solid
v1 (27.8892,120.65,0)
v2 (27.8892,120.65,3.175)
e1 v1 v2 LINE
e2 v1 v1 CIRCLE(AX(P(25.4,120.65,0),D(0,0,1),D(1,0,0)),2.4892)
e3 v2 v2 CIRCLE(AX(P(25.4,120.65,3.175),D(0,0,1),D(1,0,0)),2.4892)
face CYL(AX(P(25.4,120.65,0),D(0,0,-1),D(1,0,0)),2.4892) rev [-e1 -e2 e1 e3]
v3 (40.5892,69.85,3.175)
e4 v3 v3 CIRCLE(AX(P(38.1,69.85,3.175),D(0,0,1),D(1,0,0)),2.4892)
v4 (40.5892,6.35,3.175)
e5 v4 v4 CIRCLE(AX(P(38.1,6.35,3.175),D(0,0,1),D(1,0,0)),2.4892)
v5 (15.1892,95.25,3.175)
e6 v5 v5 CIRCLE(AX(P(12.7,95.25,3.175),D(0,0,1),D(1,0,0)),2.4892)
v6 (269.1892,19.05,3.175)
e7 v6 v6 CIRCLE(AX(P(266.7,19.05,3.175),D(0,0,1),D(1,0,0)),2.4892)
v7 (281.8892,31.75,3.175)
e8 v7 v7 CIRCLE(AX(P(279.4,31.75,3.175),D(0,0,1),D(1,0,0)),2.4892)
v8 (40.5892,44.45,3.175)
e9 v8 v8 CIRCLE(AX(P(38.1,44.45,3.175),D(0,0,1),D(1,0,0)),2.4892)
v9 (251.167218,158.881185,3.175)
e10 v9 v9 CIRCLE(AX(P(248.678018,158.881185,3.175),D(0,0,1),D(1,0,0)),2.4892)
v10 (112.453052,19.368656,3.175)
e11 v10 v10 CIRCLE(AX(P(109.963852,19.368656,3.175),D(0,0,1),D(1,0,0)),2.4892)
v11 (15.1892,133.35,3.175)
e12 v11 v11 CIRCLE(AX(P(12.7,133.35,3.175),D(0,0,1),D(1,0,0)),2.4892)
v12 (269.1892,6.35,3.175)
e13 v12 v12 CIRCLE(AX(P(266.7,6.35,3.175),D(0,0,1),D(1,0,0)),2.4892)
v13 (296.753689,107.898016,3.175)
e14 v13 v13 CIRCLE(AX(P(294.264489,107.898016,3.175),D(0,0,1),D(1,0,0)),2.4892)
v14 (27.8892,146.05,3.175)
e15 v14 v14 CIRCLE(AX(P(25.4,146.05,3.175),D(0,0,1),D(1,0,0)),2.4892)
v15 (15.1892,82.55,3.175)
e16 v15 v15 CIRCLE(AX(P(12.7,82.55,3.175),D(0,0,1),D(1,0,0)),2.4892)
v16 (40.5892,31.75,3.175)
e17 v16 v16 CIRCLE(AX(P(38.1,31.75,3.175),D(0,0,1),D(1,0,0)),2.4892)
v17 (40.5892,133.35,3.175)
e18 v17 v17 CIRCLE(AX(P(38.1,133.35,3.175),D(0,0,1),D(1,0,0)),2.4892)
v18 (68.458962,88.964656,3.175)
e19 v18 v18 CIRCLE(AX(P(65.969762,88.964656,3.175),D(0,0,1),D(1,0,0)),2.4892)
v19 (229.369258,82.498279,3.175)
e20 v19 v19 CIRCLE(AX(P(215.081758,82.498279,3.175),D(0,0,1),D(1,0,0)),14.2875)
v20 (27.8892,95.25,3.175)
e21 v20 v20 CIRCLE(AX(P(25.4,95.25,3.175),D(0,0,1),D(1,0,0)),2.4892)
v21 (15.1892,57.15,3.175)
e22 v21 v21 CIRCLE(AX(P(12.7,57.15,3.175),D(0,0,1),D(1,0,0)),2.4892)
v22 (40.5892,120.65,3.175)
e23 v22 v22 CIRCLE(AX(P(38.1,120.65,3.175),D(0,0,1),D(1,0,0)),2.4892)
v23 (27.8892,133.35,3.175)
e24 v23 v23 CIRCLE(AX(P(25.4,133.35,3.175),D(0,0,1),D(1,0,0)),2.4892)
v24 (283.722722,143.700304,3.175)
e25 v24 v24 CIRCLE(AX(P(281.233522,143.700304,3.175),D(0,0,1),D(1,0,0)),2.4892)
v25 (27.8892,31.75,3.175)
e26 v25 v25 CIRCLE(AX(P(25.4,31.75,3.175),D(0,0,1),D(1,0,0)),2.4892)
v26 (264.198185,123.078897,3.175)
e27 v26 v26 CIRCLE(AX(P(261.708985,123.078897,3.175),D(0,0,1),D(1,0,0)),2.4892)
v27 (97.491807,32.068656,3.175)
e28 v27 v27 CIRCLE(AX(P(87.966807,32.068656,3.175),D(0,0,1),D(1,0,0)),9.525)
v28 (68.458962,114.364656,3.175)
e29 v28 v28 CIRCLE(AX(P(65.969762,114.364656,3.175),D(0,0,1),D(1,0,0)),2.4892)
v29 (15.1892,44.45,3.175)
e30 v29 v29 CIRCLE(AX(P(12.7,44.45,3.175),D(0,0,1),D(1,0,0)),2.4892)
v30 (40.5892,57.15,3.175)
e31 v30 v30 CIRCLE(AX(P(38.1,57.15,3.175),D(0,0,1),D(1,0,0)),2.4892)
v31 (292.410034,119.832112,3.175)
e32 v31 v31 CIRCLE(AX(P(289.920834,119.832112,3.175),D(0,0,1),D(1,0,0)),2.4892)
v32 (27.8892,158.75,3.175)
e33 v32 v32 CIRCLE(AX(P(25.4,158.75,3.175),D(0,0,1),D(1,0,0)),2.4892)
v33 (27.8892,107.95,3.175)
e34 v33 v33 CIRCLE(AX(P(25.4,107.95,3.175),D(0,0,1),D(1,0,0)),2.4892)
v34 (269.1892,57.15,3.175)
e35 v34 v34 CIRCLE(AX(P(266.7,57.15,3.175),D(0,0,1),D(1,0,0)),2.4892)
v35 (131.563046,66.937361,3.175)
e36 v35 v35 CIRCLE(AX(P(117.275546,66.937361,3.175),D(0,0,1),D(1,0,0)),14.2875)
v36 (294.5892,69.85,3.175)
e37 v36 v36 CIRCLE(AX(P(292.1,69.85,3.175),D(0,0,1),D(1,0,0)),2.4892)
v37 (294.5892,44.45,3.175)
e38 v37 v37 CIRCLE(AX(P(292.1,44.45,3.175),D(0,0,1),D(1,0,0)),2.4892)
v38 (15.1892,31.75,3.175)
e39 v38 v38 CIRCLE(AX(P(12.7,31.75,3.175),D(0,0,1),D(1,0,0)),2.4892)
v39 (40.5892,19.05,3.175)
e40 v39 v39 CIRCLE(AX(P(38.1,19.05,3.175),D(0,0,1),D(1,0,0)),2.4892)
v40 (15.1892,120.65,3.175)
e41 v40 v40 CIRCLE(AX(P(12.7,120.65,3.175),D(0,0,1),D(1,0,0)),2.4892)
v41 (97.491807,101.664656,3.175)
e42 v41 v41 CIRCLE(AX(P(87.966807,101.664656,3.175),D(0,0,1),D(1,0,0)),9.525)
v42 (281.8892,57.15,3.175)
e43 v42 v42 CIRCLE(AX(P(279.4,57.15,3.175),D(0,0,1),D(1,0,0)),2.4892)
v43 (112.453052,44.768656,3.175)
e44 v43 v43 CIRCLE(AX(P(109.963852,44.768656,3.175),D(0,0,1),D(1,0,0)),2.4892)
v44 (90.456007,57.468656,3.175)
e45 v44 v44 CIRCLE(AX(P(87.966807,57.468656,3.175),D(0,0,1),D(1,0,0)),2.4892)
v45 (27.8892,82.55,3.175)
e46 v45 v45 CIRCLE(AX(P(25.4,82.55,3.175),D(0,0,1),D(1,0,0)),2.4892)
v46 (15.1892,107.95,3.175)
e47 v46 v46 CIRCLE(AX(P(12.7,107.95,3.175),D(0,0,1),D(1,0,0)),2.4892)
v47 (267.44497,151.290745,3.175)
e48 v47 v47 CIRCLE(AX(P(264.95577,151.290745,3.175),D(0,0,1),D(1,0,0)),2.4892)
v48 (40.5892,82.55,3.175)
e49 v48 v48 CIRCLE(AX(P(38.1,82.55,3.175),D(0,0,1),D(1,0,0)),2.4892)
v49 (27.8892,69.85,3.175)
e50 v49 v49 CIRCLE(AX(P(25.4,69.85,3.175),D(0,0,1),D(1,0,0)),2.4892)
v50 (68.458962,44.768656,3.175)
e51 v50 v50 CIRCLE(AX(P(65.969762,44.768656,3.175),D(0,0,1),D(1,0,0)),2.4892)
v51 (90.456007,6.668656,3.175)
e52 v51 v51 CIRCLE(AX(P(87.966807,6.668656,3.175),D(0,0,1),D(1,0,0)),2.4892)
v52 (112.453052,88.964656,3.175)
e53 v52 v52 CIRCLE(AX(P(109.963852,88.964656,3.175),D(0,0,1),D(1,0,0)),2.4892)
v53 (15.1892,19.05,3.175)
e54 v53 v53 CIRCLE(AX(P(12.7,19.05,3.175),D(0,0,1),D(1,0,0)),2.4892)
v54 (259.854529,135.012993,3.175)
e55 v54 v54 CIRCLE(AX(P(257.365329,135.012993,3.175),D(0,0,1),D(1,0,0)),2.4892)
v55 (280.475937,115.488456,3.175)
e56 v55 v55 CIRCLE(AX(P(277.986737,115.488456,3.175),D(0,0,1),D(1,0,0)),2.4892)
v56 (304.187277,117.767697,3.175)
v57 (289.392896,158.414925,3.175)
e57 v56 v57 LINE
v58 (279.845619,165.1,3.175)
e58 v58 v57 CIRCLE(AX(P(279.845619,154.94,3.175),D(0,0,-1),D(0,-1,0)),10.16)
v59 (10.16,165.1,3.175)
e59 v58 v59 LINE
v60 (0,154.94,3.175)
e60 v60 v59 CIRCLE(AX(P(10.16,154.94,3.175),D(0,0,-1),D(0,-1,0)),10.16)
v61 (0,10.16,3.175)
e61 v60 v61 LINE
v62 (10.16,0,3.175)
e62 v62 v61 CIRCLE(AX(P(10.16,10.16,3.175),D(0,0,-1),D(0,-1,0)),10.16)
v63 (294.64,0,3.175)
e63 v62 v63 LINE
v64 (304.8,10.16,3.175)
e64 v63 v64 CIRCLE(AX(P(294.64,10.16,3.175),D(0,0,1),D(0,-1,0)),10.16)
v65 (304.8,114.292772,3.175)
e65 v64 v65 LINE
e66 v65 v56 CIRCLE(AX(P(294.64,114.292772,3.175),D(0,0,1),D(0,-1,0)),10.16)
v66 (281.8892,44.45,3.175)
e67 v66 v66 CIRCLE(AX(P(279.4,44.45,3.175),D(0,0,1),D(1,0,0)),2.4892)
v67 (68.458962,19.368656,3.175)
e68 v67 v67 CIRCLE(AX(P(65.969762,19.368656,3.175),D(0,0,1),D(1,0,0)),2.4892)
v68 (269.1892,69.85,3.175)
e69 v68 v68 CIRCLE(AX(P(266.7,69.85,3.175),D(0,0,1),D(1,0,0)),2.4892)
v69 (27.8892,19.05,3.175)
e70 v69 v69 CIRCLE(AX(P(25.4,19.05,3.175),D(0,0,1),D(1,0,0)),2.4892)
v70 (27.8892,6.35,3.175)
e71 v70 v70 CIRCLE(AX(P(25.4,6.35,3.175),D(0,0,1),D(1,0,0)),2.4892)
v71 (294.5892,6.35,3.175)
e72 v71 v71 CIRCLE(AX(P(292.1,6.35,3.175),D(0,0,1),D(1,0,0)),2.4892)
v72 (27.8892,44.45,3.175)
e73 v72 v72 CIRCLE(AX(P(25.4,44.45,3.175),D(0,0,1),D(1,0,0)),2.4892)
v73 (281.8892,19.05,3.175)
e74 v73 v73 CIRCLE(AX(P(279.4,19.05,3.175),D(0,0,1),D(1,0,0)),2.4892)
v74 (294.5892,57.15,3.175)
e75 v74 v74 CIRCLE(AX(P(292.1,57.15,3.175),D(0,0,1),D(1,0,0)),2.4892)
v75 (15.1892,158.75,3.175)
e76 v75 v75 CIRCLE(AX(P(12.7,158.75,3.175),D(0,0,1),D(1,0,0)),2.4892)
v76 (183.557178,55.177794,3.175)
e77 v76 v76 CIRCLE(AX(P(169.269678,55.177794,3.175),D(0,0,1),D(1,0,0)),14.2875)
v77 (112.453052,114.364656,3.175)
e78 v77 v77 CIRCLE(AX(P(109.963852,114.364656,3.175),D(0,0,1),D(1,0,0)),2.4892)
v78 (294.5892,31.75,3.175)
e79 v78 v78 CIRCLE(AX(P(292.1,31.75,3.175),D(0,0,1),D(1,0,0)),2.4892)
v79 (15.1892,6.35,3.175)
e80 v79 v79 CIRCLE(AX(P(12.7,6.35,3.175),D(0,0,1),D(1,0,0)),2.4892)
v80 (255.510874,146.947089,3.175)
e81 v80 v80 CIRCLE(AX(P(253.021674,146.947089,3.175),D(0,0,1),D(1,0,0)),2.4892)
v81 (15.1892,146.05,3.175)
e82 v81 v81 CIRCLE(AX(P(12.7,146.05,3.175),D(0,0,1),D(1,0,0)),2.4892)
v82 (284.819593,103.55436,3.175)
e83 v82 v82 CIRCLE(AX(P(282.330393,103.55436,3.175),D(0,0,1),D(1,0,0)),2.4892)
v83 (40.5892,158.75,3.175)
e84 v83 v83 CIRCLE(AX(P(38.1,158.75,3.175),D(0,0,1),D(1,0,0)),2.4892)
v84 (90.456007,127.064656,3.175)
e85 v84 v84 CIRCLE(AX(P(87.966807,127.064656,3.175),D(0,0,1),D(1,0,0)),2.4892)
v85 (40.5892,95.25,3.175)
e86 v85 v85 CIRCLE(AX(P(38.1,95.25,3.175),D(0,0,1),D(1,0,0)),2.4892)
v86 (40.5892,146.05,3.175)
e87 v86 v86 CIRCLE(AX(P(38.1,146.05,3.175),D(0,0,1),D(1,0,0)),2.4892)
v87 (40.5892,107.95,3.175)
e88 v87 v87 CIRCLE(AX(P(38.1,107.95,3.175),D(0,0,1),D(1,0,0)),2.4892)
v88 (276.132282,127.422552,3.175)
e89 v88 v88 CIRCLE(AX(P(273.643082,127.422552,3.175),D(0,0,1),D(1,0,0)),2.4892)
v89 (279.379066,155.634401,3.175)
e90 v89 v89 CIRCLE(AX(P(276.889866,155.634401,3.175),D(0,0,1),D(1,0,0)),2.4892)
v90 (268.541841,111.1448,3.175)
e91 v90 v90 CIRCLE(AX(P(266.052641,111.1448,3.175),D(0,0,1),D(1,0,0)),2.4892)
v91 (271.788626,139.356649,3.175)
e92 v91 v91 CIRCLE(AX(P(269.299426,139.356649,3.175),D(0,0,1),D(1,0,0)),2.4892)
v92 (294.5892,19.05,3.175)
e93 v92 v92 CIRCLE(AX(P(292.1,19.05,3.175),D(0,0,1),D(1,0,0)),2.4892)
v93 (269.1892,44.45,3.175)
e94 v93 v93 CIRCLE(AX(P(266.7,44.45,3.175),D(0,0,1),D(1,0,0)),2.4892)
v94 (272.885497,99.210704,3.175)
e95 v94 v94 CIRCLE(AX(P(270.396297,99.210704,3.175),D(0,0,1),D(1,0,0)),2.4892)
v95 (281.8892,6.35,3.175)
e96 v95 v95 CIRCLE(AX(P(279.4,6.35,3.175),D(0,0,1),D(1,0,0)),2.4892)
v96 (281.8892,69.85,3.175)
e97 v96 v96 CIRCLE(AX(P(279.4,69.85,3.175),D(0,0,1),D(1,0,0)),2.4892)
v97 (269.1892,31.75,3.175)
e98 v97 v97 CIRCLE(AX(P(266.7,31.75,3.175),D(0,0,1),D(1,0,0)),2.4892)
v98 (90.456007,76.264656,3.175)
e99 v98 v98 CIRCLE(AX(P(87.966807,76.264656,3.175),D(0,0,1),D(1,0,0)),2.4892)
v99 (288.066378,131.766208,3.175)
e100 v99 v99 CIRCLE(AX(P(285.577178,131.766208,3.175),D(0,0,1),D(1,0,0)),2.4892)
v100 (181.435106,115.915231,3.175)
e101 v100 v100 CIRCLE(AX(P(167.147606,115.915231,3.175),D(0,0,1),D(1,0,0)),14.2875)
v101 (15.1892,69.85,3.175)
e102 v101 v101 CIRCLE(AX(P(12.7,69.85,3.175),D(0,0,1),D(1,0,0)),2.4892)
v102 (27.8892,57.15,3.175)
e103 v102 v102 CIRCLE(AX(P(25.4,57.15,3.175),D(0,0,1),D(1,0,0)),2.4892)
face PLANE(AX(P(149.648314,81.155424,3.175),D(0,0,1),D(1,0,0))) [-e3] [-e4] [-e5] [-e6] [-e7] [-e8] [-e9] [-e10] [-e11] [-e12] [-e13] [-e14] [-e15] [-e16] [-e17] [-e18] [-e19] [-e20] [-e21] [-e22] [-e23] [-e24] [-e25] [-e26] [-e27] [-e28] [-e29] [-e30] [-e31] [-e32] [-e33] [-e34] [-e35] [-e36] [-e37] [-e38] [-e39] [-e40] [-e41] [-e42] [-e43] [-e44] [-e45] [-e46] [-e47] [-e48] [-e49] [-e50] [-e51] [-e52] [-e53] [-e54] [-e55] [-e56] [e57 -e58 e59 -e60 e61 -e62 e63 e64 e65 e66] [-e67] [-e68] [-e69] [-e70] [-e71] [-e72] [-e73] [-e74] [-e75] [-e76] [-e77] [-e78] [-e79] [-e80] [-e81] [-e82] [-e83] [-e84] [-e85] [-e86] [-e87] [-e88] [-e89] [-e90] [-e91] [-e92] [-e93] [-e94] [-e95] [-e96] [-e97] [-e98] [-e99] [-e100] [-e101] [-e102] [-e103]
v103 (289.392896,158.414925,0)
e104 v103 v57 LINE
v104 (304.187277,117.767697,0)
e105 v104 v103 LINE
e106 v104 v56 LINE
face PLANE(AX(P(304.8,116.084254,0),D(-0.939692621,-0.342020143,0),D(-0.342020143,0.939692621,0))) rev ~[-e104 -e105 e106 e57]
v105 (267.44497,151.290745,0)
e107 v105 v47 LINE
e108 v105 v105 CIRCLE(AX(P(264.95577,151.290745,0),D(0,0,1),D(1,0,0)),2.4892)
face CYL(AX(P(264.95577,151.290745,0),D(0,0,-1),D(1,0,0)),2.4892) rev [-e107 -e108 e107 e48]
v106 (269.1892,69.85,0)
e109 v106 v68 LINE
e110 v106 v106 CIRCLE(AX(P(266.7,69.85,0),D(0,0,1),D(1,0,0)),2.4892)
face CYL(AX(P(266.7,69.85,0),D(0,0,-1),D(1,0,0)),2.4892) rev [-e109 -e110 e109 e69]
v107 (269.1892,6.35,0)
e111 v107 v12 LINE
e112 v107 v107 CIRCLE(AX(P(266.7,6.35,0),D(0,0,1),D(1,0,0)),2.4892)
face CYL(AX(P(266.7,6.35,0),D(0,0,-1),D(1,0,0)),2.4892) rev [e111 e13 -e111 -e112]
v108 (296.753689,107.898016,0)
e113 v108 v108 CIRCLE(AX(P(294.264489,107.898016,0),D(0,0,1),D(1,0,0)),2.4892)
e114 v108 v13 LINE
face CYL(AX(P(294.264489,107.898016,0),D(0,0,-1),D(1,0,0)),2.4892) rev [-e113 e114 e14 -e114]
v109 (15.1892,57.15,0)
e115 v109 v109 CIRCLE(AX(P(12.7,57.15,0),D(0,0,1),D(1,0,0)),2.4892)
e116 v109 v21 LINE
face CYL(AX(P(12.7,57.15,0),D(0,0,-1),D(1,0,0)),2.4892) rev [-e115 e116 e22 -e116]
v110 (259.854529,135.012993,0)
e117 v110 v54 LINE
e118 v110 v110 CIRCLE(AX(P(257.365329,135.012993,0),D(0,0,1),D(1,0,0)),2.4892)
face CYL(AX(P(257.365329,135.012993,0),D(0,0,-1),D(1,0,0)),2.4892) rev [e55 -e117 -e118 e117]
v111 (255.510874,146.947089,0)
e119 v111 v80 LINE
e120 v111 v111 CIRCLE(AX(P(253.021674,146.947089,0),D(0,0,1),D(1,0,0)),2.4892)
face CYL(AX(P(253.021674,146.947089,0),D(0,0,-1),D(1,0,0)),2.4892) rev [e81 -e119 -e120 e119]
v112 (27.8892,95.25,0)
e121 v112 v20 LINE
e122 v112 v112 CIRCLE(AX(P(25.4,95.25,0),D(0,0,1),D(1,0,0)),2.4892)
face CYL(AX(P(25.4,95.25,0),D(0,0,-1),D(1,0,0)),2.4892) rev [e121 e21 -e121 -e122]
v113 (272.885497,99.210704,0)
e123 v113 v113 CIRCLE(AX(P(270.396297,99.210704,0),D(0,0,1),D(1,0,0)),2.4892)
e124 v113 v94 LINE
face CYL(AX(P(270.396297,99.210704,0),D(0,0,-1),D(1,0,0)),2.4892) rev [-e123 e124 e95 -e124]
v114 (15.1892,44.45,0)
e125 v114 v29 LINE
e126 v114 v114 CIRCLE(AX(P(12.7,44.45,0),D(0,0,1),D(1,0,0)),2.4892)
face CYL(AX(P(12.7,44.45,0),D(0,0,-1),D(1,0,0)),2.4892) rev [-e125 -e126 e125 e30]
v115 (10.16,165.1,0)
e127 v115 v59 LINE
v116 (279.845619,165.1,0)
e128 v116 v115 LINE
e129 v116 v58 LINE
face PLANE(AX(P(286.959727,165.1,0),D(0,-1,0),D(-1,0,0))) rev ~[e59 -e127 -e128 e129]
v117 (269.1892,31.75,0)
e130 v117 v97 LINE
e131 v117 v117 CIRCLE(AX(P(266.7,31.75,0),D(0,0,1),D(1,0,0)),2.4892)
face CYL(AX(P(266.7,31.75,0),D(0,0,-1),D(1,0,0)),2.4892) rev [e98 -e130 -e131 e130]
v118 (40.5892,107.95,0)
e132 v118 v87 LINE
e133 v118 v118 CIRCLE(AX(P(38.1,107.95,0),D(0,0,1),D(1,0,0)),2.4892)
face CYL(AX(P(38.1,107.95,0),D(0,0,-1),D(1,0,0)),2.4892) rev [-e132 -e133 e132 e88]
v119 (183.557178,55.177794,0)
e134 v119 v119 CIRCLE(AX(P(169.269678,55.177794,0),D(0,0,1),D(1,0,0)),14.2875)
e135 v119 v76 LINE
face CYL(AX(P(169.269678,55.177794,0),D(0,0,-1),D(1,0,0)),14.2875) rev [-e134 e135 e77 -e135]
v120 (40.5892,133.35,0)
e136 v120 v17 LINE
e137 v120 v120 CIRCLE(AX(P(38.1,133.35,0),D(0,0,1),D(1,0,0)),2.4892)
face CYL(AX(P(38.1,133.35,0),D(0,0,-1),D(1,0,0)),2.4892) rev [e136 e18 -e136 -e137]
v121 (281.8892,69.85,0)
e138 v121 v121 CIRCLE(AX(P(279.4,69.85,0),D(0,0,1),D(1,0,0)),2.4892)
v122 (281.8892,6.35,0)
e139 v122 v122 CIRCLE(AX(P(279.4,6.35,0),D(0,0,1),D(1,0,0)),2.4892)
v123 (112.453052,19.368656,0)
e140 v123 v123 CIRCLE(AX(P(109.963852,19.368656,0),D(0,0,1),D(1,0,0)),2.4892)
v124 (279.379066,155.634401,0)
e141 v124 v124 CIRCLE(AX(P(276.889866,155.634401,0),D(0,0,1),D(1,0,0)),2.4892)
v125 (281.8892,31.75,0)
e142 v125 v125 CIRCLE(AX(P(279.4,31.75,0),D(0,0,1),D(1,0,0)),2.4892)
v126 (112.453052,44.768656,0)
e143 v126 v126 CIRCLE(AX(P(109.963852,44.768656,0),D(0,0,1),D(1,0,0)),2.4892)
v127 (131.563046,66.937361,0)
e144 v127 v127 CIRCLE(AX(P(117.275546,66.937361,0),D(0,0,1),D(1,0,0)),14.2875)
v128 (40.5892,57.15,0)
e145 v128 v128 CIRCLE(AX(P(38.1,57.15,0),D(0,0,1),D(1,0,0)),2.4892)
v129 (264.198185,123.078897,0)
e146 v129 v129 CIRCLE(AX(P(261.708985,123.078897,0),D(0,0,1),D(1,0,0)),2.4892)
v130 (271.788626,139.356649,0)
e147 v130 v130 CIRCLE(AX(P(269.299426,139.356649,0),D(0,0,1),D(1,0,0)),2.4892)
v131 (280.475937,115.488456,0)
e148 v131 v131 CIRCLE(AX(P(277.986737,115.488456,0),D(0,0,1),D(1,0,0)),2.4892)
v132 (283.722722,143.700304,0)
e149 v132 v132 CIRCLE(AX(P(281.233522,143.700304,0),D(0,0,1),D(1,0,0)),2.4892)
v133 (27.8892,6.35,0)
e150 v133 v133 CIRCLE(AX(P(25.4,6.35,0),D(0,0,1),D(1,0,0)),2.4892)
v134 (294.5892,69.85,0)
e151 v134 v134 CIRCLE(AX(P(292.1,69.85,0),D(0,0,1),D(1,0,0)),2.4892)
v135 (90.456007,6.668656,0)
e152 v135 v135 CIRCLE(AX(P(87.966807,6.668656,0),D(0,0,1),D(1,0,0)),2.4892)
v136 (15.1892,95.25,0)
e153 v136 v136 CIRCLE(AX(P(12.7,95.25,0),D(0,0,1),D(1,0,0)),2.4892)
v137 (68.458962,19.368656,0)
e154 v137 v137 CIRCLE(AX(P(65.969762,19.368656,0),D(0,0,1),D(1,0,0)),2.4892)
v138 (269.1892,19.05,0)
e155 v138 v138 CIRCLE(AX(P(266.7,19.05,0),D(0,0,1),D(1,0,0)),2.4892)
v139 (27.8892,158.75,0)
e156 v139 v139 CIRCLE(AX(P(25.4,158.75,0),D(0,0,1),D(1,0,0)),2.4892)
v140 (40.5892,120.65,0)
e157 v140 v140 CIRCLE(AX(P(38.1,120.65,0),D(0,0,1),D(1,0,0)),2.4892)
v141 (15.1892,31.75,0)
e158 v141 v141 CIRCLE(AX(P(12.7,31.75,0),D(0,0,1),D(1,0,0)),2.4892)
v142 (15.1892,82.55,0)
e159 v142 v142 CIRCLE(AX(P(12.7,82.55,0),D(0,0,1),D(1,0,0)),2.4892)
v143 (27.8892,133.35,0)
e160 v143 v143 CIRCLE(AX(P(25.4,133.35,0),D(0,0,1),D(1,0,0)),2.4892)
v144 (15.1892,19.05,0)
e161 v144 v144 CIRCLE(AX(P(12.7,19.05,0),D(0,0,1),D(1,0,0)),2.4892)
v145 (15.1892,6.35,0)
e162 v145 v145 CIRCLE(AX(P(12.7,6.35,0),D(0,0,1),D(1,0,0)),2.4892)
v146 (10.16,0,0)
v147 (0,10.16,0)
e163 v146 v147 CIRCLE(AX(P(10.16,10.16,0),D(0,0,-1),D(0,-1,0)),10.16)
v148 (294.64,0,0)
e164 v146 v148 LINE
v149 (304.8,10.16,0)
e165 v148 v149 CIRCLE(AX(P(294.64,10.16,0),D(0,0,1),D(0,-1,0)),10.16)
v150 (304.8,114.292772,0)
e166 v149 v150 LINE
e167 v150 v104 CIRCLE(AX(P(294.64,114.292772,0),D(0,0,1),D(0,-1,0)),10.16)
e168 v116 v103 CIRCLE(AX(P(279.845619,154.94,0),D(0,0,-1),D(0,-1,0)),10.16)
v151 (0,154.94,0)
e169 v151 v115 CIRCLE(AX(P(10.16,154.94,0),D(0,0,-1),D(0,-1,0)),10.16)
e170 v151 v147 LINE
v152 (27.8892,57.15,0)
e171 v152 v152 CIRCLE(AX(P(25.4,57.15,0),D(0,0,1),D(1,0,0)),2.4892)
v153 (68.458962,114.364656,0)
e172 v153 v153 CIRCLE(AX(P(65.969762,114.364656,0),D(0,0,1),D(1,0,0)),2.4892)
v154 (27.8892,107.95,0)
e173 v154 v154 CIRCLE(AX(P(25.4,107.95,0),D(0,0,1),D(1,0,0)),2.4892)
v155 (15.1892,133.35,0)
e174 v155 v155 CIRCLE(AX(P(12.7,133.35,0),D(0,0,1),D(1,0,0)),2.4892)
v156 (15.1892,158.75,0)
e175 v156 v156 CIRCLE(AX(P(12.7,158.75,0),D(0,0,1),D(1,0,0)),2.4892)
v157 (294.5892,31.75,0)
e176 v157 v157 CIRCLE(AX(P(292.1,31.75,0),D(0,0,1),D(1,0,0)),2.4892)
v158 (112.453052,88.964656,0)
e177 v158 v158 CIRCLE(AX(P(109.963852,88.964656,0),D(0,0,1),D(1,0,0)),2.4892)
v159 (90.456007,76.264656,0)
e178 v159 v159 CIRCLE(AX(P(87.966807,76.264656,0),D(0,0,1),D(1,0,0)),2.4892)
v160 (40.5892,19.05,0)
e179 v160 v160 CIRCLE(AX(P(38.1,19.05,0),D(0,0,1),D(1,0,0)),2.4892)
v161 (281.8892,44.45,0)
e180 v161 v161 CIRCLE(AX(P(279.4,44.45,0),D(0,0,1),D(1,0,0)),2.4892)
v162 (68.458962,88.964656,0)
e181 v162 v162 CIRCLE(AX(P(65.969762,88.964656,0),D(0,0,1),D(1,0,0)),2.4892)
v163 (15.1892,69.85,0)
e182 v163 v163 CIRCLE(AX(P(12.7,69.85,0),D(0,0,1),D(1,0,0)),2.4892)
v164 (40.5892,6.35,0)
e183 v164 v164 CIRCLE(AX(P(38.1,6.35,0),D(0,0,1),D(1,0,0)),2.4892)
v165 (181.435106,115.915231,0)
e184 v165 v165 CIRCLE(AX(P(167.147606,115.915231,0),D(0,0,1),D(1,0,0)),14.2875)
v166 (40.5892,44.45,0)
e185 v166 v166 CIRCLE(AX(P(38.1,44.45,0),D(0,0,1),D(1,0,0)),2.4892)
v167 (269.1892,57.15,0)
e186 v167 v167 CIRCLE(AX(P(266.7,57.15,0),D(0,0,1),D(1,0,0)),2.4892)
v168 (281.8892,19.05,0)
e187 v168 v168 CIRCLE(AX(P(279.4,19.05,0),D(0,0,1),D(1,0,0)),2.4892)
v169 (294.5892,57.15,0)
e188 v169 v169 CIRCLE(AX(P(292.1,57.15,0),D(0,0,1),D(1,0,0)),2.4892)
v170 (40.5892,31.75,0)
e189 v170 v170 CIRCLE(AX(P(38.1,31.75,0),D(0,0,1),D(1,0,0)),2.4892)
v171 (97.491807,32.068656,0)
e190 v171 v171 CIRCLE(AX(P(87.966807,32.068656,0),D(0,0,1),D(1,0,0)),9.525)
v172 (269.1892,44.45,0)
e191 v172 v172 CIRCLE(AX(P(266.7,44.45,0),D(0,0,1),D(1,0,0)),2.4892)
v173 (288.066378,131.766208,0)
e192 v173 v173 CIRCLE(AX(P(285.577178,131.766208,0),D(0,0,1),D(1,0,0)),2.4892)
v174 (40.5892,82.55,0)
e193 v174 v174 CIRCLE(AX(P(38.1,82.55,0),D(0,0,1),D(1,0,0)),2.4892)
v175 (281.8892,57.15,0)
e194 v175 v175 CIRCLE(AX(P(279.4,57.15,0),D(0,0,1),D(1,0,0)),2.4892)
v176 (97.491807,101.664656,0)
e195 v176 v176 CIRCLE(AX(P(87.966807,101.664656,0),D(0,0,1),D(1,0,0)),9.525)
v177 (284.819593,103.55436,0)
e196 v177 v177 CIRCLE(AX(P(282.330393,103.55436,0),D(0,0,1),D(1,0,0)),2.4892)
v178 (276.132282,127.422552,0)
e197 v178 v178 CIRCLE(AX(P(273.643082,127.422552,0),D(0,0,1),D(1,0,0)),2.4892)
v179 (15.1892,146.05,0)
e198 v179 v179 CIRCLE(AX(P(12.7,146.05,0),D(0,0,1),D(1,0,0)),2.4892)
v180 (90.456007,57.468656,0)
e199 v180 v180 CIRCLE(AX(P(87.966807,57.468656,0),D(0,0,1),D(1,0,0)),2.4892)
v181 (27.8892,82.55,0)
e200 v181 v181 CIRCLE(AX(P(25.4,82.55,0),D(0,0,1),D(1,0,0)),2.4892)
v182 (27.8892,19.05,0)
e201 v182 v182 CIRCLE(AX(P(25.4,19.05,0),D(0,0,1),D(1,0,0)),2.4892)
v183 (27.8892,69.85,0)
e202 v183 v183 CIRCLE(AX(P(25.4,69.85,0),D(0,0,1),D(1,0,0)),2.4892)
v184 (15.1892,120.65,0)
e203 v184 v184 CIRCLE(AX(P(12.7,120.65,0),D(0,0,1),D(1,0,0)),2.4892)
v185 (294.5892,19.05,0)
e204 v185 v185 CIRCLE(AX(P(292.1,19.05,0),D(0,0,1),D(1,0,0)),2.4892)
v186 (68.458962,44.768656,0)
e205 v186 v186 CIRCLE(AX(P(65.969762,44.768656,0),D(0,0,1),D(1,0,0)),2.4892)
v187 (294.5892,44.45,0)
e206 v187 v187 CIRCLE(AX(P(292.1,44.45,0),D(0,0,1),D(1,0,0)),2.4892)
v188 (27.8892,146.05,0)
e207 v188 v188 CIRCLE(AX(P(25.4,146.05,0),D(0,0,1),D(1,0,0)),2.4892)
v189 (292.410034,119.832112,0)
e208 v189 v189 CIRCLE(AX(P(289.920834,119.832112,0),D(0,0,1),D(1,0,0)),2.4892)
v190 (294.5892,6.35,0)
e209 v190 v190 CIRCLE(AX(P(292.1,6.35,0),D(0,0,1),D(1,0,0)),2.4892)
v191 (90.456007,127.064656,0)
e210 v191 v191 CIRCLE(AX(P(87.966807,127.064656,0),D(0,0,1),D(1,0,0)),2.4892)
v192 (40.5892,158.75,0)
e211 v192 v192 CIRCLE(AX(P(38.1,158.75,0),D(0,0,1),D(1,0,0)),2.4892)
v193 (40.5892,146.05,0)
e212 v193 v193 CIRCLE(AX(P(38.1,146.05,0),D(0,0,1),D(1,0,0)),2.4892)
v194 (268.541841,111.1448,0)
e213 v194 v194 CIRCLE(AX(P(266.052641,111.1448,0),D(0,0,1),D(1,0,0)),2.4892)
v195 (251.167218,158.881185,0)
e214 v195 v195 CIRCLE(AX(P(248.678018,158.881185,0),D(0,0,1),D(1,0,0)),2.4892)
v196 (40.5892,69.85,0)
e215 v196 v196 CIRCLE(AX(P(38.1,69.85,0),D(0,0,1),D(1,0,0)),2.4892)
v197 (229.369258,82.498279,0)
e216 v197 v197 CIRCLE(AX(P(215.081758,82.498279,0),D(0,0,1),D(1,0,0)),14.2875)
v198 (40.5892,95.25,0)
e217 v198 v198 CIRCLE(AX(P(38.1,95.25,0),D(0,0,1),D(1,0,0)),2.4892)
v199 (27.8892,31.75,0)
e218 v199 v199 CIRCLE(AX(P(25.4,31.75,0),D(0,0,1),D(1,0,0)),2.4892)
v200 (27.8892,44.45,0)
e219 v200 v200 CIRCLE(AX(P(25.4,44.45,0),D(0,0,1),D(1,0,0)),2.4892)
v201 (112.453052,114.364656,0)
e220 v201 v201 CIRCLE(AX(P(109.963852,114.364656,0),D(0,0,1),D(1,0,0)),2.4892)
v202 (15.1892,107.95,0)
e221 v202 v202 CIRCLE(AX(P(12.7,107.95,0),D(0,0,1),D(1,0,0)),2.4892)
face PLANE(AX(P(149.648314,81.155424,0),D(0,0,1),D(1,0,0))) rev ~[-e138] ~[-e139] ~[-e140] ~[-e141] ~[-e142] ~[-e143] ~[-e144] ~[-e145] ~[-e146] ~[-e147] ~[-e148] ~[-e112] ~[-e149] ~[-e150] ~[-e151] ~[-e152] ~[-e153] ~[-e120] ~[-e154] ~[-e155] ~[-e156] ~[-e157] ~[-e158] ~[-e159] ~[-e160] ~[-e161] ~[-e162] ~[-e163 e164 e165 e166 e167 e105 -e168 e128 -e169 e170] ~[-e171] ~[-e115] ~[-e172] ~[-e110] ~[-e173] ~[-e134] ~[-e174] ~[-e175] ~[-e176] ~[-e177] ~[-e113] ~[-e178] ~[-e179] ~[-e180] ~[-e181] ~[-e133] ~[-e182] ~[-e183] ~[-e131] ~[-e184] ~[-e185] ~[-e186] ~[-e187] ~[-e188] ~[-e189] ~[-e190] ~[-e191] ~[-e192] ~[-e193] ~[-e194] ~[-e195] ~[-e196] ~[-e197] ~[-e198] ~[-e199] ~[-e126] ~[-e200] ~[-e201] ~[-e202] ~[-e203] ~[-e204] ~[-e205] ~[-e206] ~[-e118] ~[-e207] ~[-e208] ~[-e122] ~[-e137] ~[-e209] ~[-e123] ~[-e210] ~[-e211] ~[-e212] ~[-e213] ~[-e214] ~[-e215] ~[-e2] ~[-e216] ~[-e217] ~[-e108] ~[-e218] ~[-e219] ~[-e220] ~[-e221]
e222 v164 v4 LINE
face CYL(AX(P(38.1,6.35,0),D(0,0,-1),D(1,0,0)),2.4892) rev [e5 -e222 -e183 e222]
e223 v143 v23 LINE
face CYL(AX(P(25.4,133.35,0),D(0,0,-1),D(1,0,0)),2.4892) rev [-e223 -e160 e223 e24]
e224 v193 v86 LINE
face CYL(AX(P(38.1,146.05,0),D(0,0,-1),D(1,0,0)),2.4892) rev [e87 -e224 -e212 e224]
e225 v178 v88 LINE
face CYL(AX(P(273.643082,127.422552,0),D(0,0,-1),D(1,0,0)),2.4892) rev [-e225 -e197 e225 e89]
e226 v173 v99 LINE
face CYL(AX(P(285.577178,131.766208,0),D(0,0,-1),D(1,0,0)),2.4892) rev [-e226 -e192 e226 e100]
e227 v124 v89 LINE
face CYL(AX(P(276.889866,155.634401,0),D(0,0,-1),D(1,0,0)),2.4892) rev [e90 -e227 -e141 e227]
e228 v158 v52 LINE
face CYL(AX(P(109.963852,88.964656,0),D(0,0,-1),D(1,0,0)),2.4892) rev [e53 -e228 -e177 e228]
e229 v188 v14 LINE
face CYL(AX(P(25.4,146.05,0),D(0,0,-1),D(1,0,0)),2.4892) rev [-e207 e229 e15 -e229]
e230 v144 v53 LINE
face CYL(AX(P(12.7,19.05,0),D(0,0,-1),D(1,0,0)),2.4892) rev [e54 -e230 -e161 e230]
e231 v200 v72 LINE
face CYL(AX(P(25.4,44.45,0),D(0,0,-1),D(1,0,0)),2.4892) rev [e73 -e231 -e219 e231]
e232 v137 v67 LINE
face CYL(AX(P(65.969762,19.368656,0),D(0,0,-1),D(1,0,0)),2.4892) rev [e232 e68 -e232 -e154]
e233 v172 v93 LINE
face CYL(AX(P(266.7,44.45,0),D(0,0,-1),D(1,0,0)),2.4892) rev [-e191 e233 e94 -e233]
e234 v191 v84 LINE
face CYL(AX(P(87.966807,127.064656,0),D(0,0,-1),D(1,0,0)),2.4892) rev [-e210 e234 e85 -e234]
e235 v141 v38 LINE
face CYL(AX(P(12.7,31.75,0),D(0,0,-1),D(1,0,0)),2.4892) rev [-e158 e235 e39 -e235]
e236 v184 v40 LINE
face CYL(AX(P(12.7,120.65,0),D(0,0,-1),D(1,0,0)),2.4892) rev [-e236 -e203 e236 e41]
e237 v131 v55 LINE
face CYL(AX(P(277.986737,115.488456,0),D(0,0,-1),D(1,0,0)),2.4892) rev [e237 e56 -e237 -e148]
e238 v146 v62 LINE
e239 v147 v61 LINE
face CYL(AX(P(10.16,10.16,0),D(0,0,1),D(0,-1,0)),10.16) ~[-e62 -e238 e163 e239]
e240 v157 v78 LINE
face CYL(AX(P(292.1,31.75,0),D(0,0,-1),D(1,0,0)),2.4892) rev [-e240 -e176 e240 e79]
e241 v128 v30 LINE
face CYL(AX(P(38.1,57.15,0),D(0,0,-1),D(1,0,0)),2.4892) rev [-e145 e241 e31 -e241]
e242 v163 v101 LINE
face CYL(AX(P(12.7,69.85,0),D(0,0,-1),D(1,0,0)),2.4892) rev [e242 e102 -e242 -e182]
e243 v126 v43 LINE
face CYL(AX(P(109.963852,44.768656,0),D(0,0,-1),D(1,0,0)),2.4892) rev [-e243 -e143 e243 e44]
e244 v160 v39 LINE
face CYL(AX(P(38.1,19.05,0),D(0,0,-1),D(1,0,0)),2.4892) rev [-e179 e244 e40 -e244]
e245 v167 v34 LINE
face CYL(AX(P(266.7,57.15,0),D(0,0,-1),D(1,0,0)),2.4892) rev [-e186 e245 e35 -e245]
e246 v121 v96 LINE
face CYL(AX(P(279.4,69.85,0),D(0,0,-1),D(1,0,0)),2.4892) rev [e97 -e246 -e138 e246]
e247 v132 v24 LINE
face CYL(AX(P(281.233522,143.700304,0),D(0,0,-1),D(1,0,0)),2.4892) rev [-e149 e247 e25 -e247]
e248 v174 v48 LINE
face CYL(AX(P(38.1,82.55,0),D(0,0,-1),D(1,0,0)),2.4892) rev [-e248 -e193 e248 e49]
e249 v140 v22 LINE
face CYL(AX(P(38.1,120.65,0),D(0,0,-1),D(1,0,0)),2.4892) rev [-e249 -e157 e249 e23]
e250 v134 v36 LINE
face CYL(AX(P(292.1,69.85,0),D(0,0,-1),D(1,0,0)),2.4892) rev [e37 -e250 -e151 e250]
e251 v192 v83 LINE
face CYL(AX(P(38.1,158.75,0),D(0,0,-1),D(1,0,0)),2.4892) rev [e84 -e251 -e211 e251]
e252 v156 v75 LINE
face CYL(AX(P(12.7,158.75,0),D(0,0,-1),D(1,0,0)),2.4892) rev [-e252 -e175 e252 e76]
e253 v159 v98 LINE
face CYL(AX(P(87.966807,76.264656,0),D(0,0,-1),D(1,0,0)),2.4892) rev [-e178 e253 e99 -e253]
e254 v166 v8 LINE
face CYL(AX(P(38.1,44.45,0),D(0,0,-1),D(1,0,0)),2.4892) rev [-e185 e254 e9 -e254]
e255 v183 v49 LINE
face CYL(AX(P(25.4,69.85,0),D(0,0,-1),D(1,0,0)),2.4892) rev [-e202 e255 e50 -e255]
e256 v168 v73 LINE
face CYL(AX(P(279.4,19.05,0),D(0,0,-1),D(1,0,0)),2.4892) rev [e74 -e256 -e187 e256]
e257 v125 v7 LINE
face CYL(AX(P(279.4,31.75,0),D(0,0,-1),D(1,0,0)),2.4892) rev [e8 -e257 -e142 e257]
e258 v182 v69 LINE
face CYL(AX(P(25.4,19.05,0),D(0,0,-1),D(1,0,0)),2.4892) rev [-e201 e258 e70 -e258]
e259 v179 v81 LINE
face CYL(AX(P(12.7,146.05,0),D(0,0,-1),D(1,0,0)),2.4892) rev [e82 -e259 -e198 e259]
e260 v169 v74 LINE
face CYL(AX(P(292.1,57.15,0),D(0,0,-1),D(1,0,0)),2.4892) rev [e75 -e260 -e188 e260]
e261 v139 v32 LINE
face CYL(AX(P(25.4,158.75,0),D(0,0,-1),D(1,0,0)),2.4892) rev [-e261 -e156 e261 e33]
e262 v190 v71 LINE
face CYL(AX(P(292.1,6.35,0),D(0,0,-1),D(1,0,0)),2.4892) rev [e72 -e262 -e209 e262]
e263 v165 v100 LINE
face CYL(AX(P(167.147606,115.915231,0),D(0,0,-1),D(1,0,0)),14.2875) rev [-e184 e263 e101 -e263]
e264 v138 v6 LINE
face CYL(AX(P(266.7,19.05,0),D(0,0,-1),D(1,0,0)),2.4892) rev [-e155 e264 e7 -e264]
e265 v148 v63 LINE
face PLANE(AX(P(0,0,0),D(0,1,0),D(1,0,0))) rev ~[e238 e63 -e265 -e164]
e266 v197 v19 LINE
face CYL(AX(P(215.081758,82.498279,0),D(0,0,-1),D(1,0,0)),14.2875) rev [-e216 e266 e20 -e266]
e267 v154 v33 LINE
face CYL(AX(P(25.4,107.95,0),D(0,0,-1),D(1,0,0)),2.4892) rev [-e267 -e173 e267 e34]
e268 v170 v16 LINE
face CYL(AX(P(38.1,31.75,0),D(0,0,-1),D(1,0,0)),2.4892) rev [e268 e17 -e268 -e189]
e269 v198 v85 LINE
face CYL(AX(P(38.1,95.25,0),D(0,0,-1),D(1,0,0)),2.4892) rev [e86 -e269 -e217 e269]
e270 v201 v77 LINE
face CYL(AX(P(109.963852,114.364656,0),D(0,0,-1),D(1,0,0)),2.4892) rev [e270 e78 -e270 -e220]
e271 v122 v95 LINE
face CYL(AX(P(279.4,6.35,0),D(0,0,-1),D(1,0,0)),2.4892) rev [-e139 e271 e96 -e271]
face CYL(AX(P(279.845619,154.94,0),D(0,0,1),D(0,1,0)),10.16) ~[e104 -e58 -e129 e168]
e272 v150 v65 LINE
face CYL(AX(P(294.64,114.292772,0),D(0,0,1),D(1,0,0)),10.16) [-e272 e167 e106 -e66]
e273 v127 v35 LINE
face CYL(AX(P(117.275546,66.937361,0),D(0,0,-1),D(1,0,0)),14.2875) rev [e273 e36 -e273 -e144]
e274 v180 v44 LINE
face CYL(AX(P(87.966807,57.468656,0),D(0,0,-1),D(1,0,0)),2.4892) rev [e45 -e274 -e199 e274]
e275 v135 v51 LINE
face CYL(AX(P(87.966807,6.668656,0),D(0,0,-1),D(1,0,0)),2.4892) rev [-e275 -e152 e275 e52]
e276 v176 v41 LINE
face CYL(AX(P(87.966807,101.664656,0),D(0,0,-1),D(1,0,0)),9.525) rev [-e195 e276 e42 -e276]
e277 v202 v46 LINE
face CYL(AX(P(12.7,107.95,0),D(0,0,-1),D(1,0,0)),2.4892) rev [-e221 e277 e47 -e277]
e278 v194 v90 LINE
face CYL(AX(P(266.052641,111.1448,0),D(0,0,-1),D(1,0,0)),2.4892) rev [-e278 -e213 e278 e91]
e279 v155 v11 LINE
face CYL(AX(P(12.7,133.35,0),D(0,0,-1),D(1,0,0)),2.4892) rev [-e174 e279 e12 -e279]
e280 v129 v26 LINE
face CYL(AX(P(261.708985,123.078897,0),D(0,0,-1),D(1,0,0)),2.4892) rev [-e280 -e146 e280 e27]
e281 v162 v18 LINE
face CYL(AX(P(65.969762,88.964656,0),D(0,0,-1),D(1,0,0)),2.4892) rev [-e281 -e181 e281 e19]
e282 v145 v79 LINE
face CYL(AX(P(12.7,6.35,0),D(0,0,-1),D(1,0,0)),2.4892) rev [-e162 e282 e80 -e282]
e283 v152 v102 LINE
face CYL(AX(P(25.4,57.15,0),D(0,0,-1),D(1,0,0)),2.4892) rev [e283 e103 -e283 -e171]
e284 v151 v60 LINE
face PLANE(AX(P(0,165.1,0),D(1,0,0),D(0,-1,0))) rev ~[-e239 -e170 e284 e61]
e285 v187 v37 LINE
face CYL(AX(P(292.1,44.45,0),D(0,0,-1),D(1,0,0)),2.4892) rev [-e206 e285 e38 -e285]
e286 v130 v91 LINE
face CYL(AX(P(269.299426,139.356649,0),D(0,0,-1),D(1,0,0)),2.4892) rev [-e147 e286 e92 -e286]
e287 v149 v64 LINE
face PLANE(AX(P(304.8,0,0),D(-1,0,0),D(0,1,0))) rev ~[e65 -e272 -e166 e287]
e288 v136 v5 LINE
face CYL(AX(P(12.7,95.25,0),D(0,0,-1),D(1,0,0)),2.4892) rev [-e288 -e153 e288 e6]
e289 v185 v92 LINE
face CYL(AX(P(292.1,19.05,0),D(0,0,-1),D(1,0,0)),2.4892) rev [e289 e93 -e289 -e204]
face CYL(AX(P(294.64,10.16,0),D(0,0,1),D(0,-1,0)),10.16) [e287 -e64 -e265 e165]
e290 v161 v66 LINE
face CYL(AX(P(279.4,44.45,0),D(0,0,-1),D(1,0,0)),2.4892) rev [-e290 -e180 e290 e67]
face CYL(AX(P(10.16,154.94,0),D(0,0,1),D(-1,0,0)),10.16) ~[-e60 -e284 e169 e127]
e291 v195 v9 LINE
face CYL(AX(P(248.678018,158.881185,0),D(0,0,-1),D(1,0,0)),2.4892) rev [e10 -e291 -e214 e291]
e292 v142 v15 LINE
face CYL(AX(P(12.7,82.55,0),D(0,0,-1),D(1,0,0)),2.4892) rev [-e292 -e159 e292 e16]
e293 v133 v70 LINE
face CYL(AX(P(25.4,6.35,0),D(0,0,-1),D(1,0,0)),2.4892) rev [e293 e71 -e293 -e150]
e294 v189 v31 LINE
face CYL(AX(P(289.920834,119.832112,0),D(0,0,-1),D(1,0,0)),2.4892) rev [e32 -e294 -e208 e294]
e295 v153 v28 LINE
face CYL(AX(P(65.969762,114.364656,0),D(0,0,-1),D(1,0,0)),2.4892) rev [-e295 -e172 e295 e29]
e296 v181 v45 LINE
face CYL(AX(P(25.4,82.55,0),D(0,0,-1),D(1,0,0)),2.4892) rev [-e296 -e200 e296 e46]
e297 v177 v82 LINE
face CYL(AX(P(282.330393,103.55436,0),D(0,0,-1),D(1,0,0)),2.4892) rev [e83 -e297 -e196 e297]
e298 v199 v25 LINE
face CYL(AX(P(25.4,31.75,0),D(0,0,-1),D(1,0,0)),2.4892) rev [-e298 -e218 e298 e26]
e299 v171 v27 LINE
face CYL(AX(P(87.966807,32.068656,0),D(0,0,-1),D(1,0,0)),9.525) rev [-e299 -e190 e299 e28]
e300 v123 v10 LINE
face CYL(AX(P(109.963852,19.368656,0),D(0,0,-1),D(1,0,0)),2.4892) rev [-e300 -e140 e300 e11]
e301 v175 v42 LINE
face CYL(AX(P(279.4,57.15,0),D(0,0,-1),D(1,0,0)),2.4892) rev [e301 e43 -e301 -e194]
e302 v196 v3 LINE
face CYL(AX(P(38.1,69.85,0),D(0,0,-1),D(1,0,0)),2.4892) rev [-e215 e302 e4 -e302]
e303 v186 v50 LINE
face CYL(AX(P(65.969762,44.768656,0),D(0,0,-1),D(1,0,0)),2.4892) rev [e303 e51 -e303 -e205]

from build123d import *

# Parameters (mm, degrees)
SKETCH1_R           = 2.4892
SKETCH1_R_2         = 14.2875
SKETCH1_R_3         = 9.525
BOSS_EXTRUDE1_DEPTH = 3.175
FILLET1_R           = 10.16


with BuildPart() as part:
    # Sketch1 → Boss-Extrude1 (new body)
    with BuildSketch(Plane.XY):
        Polygon((0, 0), (304.8, 0), (304.8, 116.084254136), (286.959727495, 165.1), (0, 165.1), align=None)
        with Locations((12.7, 158.75)):
            Circle(SKETCH1_R, mode=Mode.SUBTRACT)
        with Locations((38.1, 6.35)):
            Circle(SKETCH1_R, mode=Mode.SUBTRACT)
        with Locations((25.4, 158.75)):
            Circle(SKETCH1_R, mode=Mode.SUBTRACT)
        with Locations((38.1, 158.75)):
            Circle(SKETCH1_R, mode=Mode.SUBTRACT)
        with Locations((25.4, 146.05)):
            Circle(SKETCH1_R, mode=Mode.SUBTRACT)
        with Locations((38.1, 146.05)):
            Circle(SKETCH1_R, mode=Mode.SUBTRACT)
        with Locations((25.4, 133.35)):
            Circle(SKETCH1_R, mode=Mode.SUBTRACT)
        with Locations((38.1, 133.35)):
            Circle(SKETCH1_R, mode=Mode.SUBTRACT)
        with Locations((25.4, 120.65)):
            Circle(SKETCH1_R, mode=Mode.SUBTRACT)
        with Locations((38.1, 120.65)):
            Circle(SKETCH1_R, mode=Mode.SUBTRACT)
        with Locations((25.4, 107.95)):
            Circle(SKETCH1_R, mode=Mode.SUBTRACT)
        with Locations((38.1, 107.95)):
            Circle(SKETCH1_R, mode=Mode.SUBTRACT)
        with Locations((25.4, 95.25)):
            Circle(SKETCH1_R, mode=Mode.SUBTRACT)
        with Locations((38.1, 95.25)):
            Circle(SKETCH1_R, mode=Mode.SUBTRACT)
        with Locations((25.4, 82.55)):
            Circle(SKETCH1_R, mode=Mode.SUBTRACT)
        with Locations((38.1, 82.55)):
            Circle(SKETCH1_R, mode=Mode.SUBTRACT)
        with Locations((25.4, 69.85)):
            Circle(SKETCH1_R, mode=Mode.SUBTRACT)
        with Locations((38.1, 69.85)):
            Circle(SKETCH1_R, mode=Mode.SUBTRACT)
        with Locations((25.4, 57.15)):
            Circle(SKETCH1_R, mode=Mode.SUBTRACT)
        with Locations((38.1, 57.15)):
            Circle(SKETCH1_R, mode=Mode.SUBTRACT)
        with Locations((25.4, 44.45)):
            Circle(SKETCH1_R, mode=Mode.SUBTRACT)
        with Locations((38.1, 44.45)):
            Circle(SKETCH1_R, mode=Mode.SUBTRACT)
        with Locations((25.4, 31.75)):
            Circle(SKETCH1_R, mode=Mode.SUBTRACT)
        with Locations((38.1, 31.75)):
            Circle(SKETCH1_R, mode=Mode.SUBTRACT)
        with Locations((25.4, 19.05)):
            Circle(SKETCH1_R, mode=Mode.SUBTRACT)
        with Locations((38.1, 19.05)):
            Circle(SKETCH1_R, mode=Mode.SUBTRACT)
        with Locations((25.4, 6.35)):
            Circle(SKETCH1_R, mode=Mode.SUBTRACT)
        with Locations((12.7, 146.05)):
            Circle(SKETCH1_R, mode=Mode.SUBTRACT)
        with Locations((12.7, 133.35)):
            Circle(SKETCH1_R, mode=Mode.SUBTRACT)
        with Locations((12.7, 120.65)):
            Circle(SKETCH1_R, mode=Mode.SUBTRACT)
        with Locations((12.7, 107.95)):
            Circle(SKETCH1_R, mode=Mode.SUBTRACT)
        with Locations((12.7, 95.25)):
            Circle(SKETCH1_R, mode=Mode.SUBTRACT)
        with Locations((12.7, 82.55)):
            Circle(SKETCH1_R, mode=Mode.SUBTRACT)
        with Locations((12.7, 69.85)):
            Circle(SKETCH1_R, mode=Mode.SUBTRACT)
        with Locations((12.7, 57.15)):
            Circle(SKETCH1_R, mode=Mode.SUBTRACT)
        with Locations((12.7, 44.45)):
            Circle(SKETCH1_R, mode=Mode.SUBTRACT)
        with Locations((12.7, 31.75)):
            Circle(SKETCH1_R, mode=Mode.SUBTRACT)
        with Locations((12.7, 19.05)):
            Circle(SKETCH1_R, mode=Mode.SUBTRACT)
        with Locations((12.7, 6.35)):
            Circle(SKETCH1_R, mode=Mode.SUBTRACT)
        with Locations((248.678017777, 158.881185382)):
            Circle(SKETCH1_R, mode=Mode.SUBTRACT)
        with Locations((264.955769881, 151.290744918)):
            Circle(SKETCH1_R, mode=Mode.SUBTRACT)
        with Locations((276.889866165, 155.634400739)):
            Circle(SKETCH1_R, mode=Mode.SUBTRACT)
        with Locations((253.021673597, 146.947089098)):
            Circle(SKETCH1_R, mode=Mode.SUBTRACT)
        with Locations((269.299425702, 139.356648634)):
            Circle(SKETCH1_R, mode=Mode.SUBTRACT)
        with Locations((281.233521986, 143.700304455)):
            Circle(SKETCH1_R, mode=Mode.SUBTRACT)
        with Locations((257.365329418, 135.012992814)):
            Circle(SKETCH1_R, mode=Mode.SUBTRACT)
        with Locations((273.643081522, 127.42255235)):
            Circle(SKETCH1_R, mode=Mode.SUBTRACT)
        with Locations((285.577177806, 131.766208171)):
            Circle(SKETCH1_R, mode=Mode.SUBTRACT)
        with Locations((261.708985238, 123.07889653)):
            Circle(SKETCH1_R, mode=Mode.SUBTRACT)
        with Locations((277.986737342, 115.488456066)):
            Circle(SKETCH1_R, mode=Mode.SUBTRACT)
        with Locations((289.920833626, 119.832111887)):
            Circle(SKETCH1_R, mode=Mode.SUBTRACT)
        with Locations((266.052641058, 111.144800246)):
            Circle(SKETCH1_R, mode=Mode.SUBTRACT)
        with Locations((282.330393162, 103.554359782)):
            Circle(SKETCH1_R, mode=Mode.SUBTRACT)
        with Locations((294.264489446, 107.898015603)):
            Circle(SKETCH1_R, mode=Mode.SUBTRACT)
        with Locations((270.396296878, 99.210703962)):
            Circle(SKETCH1_R, mode=Mode.SUBTRACT)
        with Locations((279.4, 69.85)):
            Circle(SKETCH1_R, mode=Mode.SUBTRACT)
        with Locations((266.7, 69.85)):
            Circle(SKETCH1_R, mode=Mode.SUBTRACT)
        with Locations((292.1, 69.85)):
            Circle(SKETCH1_R, mode=Mode.SUBTRACT)
        with Locations((266.7, 57.15)):
            Circle(SKETCH1_R, mode=Mode.SUBTRACT)
        with Locations((279.4, 57.15)):
            Circle(SKETCH1_R, mode=Mode.SUBTRACT)
        with Locations((292.1, 57.15)):
            Circle(SKETCH1_R, mode=Mode.SUBTRACT)
        with Locations((266.7, 44.45)):
            Circle(SKETCH1_R, mode=Mode.SUBTRACT)
        with Locations((279.4, 44.45)):
            Circle(SKETCH1_R, mode=Mode.SUBTRACT)
        with Locations((292.1, 44.45)):
            Circle(SKETCH1_R, mode=Mode.SUBTRACT)
        with Locations((266.7, 31.75)):
            Circle(SKETCH1_R, mode=Mode.SUBTRACT)
        with Locations((279.4, 31.75)):
            Circle(SKETCH1_R, mode=Mode.SUBTRACT)
        with Locations((292.1, 31.75)):
            Circle(SKETCH1_R, mode=Mode.SUBTRACT)
        with Locations((266.7, 19.05)):
            Circle(SKETCH1_R, mode=Mode.SUBTRACT)
        with Locations((279.4, 19.05)):
            Circle(SKETCH1_R, mode=Mode.SUBTRACT)
        with Locations((292.1, 19.05)):
            Circle(SKETCH1_R, mode=Mode.SUBTRACT)
        with Locations((266.7, 6.35)):
            Circle(SKETCH1_R, mode=Mode.SUBTRACT)
        with Locations((279.4, 6.35)):
            Circle(SKETCH1_R, mode=Mode.SUBTRACT)
        with Locations((292.1, 6.35)):
            Circle(SKETCH1_R, mode=Mode.SUBTRACT)
        with Locations((117.275545981, 66.937360953)):
            Circle(SKETCH1_R_2, mode=Mode.SUBTRACT)
        with Locations((167.147605731, 115.915231493)):
            Circle(SKETCH1_R_2, mode=Mode.SUBTRACT)
        with Locations((169.269677971, 55.177793896)):
            Circle(SKETCH1_R_2, mode=Mode.SUBTRACT)
        with Locations((215.081758022, 82.498279276)):
            Circle(SKETCH1_R_2, mode=Mode.SUBTRACT)
        with Locations((87.96680696, 101.664655725)):
            Circle(SKETCH1_R_3, mode=Mode.SUBTRACT)
        with Locations((87.96680696, 32.068655725)):
            Circle(SKETCH1_R_3, mode=Mode.SUBTRACT)
        with Locations((87.96680696, 127.064655725)):
            Circle(SKETCH1_R, mode=Mode.SUBTRACT)
        with Locations((109.963852217, 114.364655725)):
            Circle(SKETCH1_R, mode=Mode.SUBTRACT)
        with Locations((109.963852217, 88.964655725)):
            Circle(SKETCH1_R, mode=Mode.SUBTRACT)
        with Locations((87.96680696, 76.264655725)):
            Circle(SKETCH1_R, mode=Mode.SUBTRACT)
        with Locations((65.969761704, 88.964655725)):
            Circle(SKETCH1_R, mode=Mode.SUBTRACT)
        with Locations((65.969761704, 114.364655725)):
            Circle(SKETCH1_R, mode=Mode.SUBTRACT)
        with Locations((87.96680696, 6.668655725)):
            Circle(SKETCH1_R, mode=Mode.SUBTRACT)
        with Locations((65.969761704, 19.368655725)):
            Circle(SKETCH1_R, mode=Mode.SUBTRACT)
        with Locations((65.969761704, 44.768655725)):
            Circle(SKETCH1_R, mode=Mode.SUBTRACT)
        with Locations((87.96680696, 57.468655725)):
            Circle(SKETCH1_R, mode=Mode.SUBTRACT)
        with Locations((109.963852217, 44.768655725)):
            Circle(SKETCH1_R, mode=Mode.SUBTRACT)
        with Locations((109.963852217, 19.368655725)):
            Circle(SKETCH1_R, mode=Mode.SUBTRACT)
    extrude(amount=BOSS_EXTRUDE1_DEPTH)

    # Fillet1
    fillet1_edges = [part.edges().sort_by_distance(p)[0] for p in [
        (286.959727495, 165.1, 1.5875),
        (304.8, 116.084254136, 1.5875),
        (304.8, 0, 1.5875),
        (0, 0, 1.5875),
        (0, 165.1, 1.5875),
    ]]
    fillet(fillet1_edges, radius=FILLET1_R)


solid = part.part
